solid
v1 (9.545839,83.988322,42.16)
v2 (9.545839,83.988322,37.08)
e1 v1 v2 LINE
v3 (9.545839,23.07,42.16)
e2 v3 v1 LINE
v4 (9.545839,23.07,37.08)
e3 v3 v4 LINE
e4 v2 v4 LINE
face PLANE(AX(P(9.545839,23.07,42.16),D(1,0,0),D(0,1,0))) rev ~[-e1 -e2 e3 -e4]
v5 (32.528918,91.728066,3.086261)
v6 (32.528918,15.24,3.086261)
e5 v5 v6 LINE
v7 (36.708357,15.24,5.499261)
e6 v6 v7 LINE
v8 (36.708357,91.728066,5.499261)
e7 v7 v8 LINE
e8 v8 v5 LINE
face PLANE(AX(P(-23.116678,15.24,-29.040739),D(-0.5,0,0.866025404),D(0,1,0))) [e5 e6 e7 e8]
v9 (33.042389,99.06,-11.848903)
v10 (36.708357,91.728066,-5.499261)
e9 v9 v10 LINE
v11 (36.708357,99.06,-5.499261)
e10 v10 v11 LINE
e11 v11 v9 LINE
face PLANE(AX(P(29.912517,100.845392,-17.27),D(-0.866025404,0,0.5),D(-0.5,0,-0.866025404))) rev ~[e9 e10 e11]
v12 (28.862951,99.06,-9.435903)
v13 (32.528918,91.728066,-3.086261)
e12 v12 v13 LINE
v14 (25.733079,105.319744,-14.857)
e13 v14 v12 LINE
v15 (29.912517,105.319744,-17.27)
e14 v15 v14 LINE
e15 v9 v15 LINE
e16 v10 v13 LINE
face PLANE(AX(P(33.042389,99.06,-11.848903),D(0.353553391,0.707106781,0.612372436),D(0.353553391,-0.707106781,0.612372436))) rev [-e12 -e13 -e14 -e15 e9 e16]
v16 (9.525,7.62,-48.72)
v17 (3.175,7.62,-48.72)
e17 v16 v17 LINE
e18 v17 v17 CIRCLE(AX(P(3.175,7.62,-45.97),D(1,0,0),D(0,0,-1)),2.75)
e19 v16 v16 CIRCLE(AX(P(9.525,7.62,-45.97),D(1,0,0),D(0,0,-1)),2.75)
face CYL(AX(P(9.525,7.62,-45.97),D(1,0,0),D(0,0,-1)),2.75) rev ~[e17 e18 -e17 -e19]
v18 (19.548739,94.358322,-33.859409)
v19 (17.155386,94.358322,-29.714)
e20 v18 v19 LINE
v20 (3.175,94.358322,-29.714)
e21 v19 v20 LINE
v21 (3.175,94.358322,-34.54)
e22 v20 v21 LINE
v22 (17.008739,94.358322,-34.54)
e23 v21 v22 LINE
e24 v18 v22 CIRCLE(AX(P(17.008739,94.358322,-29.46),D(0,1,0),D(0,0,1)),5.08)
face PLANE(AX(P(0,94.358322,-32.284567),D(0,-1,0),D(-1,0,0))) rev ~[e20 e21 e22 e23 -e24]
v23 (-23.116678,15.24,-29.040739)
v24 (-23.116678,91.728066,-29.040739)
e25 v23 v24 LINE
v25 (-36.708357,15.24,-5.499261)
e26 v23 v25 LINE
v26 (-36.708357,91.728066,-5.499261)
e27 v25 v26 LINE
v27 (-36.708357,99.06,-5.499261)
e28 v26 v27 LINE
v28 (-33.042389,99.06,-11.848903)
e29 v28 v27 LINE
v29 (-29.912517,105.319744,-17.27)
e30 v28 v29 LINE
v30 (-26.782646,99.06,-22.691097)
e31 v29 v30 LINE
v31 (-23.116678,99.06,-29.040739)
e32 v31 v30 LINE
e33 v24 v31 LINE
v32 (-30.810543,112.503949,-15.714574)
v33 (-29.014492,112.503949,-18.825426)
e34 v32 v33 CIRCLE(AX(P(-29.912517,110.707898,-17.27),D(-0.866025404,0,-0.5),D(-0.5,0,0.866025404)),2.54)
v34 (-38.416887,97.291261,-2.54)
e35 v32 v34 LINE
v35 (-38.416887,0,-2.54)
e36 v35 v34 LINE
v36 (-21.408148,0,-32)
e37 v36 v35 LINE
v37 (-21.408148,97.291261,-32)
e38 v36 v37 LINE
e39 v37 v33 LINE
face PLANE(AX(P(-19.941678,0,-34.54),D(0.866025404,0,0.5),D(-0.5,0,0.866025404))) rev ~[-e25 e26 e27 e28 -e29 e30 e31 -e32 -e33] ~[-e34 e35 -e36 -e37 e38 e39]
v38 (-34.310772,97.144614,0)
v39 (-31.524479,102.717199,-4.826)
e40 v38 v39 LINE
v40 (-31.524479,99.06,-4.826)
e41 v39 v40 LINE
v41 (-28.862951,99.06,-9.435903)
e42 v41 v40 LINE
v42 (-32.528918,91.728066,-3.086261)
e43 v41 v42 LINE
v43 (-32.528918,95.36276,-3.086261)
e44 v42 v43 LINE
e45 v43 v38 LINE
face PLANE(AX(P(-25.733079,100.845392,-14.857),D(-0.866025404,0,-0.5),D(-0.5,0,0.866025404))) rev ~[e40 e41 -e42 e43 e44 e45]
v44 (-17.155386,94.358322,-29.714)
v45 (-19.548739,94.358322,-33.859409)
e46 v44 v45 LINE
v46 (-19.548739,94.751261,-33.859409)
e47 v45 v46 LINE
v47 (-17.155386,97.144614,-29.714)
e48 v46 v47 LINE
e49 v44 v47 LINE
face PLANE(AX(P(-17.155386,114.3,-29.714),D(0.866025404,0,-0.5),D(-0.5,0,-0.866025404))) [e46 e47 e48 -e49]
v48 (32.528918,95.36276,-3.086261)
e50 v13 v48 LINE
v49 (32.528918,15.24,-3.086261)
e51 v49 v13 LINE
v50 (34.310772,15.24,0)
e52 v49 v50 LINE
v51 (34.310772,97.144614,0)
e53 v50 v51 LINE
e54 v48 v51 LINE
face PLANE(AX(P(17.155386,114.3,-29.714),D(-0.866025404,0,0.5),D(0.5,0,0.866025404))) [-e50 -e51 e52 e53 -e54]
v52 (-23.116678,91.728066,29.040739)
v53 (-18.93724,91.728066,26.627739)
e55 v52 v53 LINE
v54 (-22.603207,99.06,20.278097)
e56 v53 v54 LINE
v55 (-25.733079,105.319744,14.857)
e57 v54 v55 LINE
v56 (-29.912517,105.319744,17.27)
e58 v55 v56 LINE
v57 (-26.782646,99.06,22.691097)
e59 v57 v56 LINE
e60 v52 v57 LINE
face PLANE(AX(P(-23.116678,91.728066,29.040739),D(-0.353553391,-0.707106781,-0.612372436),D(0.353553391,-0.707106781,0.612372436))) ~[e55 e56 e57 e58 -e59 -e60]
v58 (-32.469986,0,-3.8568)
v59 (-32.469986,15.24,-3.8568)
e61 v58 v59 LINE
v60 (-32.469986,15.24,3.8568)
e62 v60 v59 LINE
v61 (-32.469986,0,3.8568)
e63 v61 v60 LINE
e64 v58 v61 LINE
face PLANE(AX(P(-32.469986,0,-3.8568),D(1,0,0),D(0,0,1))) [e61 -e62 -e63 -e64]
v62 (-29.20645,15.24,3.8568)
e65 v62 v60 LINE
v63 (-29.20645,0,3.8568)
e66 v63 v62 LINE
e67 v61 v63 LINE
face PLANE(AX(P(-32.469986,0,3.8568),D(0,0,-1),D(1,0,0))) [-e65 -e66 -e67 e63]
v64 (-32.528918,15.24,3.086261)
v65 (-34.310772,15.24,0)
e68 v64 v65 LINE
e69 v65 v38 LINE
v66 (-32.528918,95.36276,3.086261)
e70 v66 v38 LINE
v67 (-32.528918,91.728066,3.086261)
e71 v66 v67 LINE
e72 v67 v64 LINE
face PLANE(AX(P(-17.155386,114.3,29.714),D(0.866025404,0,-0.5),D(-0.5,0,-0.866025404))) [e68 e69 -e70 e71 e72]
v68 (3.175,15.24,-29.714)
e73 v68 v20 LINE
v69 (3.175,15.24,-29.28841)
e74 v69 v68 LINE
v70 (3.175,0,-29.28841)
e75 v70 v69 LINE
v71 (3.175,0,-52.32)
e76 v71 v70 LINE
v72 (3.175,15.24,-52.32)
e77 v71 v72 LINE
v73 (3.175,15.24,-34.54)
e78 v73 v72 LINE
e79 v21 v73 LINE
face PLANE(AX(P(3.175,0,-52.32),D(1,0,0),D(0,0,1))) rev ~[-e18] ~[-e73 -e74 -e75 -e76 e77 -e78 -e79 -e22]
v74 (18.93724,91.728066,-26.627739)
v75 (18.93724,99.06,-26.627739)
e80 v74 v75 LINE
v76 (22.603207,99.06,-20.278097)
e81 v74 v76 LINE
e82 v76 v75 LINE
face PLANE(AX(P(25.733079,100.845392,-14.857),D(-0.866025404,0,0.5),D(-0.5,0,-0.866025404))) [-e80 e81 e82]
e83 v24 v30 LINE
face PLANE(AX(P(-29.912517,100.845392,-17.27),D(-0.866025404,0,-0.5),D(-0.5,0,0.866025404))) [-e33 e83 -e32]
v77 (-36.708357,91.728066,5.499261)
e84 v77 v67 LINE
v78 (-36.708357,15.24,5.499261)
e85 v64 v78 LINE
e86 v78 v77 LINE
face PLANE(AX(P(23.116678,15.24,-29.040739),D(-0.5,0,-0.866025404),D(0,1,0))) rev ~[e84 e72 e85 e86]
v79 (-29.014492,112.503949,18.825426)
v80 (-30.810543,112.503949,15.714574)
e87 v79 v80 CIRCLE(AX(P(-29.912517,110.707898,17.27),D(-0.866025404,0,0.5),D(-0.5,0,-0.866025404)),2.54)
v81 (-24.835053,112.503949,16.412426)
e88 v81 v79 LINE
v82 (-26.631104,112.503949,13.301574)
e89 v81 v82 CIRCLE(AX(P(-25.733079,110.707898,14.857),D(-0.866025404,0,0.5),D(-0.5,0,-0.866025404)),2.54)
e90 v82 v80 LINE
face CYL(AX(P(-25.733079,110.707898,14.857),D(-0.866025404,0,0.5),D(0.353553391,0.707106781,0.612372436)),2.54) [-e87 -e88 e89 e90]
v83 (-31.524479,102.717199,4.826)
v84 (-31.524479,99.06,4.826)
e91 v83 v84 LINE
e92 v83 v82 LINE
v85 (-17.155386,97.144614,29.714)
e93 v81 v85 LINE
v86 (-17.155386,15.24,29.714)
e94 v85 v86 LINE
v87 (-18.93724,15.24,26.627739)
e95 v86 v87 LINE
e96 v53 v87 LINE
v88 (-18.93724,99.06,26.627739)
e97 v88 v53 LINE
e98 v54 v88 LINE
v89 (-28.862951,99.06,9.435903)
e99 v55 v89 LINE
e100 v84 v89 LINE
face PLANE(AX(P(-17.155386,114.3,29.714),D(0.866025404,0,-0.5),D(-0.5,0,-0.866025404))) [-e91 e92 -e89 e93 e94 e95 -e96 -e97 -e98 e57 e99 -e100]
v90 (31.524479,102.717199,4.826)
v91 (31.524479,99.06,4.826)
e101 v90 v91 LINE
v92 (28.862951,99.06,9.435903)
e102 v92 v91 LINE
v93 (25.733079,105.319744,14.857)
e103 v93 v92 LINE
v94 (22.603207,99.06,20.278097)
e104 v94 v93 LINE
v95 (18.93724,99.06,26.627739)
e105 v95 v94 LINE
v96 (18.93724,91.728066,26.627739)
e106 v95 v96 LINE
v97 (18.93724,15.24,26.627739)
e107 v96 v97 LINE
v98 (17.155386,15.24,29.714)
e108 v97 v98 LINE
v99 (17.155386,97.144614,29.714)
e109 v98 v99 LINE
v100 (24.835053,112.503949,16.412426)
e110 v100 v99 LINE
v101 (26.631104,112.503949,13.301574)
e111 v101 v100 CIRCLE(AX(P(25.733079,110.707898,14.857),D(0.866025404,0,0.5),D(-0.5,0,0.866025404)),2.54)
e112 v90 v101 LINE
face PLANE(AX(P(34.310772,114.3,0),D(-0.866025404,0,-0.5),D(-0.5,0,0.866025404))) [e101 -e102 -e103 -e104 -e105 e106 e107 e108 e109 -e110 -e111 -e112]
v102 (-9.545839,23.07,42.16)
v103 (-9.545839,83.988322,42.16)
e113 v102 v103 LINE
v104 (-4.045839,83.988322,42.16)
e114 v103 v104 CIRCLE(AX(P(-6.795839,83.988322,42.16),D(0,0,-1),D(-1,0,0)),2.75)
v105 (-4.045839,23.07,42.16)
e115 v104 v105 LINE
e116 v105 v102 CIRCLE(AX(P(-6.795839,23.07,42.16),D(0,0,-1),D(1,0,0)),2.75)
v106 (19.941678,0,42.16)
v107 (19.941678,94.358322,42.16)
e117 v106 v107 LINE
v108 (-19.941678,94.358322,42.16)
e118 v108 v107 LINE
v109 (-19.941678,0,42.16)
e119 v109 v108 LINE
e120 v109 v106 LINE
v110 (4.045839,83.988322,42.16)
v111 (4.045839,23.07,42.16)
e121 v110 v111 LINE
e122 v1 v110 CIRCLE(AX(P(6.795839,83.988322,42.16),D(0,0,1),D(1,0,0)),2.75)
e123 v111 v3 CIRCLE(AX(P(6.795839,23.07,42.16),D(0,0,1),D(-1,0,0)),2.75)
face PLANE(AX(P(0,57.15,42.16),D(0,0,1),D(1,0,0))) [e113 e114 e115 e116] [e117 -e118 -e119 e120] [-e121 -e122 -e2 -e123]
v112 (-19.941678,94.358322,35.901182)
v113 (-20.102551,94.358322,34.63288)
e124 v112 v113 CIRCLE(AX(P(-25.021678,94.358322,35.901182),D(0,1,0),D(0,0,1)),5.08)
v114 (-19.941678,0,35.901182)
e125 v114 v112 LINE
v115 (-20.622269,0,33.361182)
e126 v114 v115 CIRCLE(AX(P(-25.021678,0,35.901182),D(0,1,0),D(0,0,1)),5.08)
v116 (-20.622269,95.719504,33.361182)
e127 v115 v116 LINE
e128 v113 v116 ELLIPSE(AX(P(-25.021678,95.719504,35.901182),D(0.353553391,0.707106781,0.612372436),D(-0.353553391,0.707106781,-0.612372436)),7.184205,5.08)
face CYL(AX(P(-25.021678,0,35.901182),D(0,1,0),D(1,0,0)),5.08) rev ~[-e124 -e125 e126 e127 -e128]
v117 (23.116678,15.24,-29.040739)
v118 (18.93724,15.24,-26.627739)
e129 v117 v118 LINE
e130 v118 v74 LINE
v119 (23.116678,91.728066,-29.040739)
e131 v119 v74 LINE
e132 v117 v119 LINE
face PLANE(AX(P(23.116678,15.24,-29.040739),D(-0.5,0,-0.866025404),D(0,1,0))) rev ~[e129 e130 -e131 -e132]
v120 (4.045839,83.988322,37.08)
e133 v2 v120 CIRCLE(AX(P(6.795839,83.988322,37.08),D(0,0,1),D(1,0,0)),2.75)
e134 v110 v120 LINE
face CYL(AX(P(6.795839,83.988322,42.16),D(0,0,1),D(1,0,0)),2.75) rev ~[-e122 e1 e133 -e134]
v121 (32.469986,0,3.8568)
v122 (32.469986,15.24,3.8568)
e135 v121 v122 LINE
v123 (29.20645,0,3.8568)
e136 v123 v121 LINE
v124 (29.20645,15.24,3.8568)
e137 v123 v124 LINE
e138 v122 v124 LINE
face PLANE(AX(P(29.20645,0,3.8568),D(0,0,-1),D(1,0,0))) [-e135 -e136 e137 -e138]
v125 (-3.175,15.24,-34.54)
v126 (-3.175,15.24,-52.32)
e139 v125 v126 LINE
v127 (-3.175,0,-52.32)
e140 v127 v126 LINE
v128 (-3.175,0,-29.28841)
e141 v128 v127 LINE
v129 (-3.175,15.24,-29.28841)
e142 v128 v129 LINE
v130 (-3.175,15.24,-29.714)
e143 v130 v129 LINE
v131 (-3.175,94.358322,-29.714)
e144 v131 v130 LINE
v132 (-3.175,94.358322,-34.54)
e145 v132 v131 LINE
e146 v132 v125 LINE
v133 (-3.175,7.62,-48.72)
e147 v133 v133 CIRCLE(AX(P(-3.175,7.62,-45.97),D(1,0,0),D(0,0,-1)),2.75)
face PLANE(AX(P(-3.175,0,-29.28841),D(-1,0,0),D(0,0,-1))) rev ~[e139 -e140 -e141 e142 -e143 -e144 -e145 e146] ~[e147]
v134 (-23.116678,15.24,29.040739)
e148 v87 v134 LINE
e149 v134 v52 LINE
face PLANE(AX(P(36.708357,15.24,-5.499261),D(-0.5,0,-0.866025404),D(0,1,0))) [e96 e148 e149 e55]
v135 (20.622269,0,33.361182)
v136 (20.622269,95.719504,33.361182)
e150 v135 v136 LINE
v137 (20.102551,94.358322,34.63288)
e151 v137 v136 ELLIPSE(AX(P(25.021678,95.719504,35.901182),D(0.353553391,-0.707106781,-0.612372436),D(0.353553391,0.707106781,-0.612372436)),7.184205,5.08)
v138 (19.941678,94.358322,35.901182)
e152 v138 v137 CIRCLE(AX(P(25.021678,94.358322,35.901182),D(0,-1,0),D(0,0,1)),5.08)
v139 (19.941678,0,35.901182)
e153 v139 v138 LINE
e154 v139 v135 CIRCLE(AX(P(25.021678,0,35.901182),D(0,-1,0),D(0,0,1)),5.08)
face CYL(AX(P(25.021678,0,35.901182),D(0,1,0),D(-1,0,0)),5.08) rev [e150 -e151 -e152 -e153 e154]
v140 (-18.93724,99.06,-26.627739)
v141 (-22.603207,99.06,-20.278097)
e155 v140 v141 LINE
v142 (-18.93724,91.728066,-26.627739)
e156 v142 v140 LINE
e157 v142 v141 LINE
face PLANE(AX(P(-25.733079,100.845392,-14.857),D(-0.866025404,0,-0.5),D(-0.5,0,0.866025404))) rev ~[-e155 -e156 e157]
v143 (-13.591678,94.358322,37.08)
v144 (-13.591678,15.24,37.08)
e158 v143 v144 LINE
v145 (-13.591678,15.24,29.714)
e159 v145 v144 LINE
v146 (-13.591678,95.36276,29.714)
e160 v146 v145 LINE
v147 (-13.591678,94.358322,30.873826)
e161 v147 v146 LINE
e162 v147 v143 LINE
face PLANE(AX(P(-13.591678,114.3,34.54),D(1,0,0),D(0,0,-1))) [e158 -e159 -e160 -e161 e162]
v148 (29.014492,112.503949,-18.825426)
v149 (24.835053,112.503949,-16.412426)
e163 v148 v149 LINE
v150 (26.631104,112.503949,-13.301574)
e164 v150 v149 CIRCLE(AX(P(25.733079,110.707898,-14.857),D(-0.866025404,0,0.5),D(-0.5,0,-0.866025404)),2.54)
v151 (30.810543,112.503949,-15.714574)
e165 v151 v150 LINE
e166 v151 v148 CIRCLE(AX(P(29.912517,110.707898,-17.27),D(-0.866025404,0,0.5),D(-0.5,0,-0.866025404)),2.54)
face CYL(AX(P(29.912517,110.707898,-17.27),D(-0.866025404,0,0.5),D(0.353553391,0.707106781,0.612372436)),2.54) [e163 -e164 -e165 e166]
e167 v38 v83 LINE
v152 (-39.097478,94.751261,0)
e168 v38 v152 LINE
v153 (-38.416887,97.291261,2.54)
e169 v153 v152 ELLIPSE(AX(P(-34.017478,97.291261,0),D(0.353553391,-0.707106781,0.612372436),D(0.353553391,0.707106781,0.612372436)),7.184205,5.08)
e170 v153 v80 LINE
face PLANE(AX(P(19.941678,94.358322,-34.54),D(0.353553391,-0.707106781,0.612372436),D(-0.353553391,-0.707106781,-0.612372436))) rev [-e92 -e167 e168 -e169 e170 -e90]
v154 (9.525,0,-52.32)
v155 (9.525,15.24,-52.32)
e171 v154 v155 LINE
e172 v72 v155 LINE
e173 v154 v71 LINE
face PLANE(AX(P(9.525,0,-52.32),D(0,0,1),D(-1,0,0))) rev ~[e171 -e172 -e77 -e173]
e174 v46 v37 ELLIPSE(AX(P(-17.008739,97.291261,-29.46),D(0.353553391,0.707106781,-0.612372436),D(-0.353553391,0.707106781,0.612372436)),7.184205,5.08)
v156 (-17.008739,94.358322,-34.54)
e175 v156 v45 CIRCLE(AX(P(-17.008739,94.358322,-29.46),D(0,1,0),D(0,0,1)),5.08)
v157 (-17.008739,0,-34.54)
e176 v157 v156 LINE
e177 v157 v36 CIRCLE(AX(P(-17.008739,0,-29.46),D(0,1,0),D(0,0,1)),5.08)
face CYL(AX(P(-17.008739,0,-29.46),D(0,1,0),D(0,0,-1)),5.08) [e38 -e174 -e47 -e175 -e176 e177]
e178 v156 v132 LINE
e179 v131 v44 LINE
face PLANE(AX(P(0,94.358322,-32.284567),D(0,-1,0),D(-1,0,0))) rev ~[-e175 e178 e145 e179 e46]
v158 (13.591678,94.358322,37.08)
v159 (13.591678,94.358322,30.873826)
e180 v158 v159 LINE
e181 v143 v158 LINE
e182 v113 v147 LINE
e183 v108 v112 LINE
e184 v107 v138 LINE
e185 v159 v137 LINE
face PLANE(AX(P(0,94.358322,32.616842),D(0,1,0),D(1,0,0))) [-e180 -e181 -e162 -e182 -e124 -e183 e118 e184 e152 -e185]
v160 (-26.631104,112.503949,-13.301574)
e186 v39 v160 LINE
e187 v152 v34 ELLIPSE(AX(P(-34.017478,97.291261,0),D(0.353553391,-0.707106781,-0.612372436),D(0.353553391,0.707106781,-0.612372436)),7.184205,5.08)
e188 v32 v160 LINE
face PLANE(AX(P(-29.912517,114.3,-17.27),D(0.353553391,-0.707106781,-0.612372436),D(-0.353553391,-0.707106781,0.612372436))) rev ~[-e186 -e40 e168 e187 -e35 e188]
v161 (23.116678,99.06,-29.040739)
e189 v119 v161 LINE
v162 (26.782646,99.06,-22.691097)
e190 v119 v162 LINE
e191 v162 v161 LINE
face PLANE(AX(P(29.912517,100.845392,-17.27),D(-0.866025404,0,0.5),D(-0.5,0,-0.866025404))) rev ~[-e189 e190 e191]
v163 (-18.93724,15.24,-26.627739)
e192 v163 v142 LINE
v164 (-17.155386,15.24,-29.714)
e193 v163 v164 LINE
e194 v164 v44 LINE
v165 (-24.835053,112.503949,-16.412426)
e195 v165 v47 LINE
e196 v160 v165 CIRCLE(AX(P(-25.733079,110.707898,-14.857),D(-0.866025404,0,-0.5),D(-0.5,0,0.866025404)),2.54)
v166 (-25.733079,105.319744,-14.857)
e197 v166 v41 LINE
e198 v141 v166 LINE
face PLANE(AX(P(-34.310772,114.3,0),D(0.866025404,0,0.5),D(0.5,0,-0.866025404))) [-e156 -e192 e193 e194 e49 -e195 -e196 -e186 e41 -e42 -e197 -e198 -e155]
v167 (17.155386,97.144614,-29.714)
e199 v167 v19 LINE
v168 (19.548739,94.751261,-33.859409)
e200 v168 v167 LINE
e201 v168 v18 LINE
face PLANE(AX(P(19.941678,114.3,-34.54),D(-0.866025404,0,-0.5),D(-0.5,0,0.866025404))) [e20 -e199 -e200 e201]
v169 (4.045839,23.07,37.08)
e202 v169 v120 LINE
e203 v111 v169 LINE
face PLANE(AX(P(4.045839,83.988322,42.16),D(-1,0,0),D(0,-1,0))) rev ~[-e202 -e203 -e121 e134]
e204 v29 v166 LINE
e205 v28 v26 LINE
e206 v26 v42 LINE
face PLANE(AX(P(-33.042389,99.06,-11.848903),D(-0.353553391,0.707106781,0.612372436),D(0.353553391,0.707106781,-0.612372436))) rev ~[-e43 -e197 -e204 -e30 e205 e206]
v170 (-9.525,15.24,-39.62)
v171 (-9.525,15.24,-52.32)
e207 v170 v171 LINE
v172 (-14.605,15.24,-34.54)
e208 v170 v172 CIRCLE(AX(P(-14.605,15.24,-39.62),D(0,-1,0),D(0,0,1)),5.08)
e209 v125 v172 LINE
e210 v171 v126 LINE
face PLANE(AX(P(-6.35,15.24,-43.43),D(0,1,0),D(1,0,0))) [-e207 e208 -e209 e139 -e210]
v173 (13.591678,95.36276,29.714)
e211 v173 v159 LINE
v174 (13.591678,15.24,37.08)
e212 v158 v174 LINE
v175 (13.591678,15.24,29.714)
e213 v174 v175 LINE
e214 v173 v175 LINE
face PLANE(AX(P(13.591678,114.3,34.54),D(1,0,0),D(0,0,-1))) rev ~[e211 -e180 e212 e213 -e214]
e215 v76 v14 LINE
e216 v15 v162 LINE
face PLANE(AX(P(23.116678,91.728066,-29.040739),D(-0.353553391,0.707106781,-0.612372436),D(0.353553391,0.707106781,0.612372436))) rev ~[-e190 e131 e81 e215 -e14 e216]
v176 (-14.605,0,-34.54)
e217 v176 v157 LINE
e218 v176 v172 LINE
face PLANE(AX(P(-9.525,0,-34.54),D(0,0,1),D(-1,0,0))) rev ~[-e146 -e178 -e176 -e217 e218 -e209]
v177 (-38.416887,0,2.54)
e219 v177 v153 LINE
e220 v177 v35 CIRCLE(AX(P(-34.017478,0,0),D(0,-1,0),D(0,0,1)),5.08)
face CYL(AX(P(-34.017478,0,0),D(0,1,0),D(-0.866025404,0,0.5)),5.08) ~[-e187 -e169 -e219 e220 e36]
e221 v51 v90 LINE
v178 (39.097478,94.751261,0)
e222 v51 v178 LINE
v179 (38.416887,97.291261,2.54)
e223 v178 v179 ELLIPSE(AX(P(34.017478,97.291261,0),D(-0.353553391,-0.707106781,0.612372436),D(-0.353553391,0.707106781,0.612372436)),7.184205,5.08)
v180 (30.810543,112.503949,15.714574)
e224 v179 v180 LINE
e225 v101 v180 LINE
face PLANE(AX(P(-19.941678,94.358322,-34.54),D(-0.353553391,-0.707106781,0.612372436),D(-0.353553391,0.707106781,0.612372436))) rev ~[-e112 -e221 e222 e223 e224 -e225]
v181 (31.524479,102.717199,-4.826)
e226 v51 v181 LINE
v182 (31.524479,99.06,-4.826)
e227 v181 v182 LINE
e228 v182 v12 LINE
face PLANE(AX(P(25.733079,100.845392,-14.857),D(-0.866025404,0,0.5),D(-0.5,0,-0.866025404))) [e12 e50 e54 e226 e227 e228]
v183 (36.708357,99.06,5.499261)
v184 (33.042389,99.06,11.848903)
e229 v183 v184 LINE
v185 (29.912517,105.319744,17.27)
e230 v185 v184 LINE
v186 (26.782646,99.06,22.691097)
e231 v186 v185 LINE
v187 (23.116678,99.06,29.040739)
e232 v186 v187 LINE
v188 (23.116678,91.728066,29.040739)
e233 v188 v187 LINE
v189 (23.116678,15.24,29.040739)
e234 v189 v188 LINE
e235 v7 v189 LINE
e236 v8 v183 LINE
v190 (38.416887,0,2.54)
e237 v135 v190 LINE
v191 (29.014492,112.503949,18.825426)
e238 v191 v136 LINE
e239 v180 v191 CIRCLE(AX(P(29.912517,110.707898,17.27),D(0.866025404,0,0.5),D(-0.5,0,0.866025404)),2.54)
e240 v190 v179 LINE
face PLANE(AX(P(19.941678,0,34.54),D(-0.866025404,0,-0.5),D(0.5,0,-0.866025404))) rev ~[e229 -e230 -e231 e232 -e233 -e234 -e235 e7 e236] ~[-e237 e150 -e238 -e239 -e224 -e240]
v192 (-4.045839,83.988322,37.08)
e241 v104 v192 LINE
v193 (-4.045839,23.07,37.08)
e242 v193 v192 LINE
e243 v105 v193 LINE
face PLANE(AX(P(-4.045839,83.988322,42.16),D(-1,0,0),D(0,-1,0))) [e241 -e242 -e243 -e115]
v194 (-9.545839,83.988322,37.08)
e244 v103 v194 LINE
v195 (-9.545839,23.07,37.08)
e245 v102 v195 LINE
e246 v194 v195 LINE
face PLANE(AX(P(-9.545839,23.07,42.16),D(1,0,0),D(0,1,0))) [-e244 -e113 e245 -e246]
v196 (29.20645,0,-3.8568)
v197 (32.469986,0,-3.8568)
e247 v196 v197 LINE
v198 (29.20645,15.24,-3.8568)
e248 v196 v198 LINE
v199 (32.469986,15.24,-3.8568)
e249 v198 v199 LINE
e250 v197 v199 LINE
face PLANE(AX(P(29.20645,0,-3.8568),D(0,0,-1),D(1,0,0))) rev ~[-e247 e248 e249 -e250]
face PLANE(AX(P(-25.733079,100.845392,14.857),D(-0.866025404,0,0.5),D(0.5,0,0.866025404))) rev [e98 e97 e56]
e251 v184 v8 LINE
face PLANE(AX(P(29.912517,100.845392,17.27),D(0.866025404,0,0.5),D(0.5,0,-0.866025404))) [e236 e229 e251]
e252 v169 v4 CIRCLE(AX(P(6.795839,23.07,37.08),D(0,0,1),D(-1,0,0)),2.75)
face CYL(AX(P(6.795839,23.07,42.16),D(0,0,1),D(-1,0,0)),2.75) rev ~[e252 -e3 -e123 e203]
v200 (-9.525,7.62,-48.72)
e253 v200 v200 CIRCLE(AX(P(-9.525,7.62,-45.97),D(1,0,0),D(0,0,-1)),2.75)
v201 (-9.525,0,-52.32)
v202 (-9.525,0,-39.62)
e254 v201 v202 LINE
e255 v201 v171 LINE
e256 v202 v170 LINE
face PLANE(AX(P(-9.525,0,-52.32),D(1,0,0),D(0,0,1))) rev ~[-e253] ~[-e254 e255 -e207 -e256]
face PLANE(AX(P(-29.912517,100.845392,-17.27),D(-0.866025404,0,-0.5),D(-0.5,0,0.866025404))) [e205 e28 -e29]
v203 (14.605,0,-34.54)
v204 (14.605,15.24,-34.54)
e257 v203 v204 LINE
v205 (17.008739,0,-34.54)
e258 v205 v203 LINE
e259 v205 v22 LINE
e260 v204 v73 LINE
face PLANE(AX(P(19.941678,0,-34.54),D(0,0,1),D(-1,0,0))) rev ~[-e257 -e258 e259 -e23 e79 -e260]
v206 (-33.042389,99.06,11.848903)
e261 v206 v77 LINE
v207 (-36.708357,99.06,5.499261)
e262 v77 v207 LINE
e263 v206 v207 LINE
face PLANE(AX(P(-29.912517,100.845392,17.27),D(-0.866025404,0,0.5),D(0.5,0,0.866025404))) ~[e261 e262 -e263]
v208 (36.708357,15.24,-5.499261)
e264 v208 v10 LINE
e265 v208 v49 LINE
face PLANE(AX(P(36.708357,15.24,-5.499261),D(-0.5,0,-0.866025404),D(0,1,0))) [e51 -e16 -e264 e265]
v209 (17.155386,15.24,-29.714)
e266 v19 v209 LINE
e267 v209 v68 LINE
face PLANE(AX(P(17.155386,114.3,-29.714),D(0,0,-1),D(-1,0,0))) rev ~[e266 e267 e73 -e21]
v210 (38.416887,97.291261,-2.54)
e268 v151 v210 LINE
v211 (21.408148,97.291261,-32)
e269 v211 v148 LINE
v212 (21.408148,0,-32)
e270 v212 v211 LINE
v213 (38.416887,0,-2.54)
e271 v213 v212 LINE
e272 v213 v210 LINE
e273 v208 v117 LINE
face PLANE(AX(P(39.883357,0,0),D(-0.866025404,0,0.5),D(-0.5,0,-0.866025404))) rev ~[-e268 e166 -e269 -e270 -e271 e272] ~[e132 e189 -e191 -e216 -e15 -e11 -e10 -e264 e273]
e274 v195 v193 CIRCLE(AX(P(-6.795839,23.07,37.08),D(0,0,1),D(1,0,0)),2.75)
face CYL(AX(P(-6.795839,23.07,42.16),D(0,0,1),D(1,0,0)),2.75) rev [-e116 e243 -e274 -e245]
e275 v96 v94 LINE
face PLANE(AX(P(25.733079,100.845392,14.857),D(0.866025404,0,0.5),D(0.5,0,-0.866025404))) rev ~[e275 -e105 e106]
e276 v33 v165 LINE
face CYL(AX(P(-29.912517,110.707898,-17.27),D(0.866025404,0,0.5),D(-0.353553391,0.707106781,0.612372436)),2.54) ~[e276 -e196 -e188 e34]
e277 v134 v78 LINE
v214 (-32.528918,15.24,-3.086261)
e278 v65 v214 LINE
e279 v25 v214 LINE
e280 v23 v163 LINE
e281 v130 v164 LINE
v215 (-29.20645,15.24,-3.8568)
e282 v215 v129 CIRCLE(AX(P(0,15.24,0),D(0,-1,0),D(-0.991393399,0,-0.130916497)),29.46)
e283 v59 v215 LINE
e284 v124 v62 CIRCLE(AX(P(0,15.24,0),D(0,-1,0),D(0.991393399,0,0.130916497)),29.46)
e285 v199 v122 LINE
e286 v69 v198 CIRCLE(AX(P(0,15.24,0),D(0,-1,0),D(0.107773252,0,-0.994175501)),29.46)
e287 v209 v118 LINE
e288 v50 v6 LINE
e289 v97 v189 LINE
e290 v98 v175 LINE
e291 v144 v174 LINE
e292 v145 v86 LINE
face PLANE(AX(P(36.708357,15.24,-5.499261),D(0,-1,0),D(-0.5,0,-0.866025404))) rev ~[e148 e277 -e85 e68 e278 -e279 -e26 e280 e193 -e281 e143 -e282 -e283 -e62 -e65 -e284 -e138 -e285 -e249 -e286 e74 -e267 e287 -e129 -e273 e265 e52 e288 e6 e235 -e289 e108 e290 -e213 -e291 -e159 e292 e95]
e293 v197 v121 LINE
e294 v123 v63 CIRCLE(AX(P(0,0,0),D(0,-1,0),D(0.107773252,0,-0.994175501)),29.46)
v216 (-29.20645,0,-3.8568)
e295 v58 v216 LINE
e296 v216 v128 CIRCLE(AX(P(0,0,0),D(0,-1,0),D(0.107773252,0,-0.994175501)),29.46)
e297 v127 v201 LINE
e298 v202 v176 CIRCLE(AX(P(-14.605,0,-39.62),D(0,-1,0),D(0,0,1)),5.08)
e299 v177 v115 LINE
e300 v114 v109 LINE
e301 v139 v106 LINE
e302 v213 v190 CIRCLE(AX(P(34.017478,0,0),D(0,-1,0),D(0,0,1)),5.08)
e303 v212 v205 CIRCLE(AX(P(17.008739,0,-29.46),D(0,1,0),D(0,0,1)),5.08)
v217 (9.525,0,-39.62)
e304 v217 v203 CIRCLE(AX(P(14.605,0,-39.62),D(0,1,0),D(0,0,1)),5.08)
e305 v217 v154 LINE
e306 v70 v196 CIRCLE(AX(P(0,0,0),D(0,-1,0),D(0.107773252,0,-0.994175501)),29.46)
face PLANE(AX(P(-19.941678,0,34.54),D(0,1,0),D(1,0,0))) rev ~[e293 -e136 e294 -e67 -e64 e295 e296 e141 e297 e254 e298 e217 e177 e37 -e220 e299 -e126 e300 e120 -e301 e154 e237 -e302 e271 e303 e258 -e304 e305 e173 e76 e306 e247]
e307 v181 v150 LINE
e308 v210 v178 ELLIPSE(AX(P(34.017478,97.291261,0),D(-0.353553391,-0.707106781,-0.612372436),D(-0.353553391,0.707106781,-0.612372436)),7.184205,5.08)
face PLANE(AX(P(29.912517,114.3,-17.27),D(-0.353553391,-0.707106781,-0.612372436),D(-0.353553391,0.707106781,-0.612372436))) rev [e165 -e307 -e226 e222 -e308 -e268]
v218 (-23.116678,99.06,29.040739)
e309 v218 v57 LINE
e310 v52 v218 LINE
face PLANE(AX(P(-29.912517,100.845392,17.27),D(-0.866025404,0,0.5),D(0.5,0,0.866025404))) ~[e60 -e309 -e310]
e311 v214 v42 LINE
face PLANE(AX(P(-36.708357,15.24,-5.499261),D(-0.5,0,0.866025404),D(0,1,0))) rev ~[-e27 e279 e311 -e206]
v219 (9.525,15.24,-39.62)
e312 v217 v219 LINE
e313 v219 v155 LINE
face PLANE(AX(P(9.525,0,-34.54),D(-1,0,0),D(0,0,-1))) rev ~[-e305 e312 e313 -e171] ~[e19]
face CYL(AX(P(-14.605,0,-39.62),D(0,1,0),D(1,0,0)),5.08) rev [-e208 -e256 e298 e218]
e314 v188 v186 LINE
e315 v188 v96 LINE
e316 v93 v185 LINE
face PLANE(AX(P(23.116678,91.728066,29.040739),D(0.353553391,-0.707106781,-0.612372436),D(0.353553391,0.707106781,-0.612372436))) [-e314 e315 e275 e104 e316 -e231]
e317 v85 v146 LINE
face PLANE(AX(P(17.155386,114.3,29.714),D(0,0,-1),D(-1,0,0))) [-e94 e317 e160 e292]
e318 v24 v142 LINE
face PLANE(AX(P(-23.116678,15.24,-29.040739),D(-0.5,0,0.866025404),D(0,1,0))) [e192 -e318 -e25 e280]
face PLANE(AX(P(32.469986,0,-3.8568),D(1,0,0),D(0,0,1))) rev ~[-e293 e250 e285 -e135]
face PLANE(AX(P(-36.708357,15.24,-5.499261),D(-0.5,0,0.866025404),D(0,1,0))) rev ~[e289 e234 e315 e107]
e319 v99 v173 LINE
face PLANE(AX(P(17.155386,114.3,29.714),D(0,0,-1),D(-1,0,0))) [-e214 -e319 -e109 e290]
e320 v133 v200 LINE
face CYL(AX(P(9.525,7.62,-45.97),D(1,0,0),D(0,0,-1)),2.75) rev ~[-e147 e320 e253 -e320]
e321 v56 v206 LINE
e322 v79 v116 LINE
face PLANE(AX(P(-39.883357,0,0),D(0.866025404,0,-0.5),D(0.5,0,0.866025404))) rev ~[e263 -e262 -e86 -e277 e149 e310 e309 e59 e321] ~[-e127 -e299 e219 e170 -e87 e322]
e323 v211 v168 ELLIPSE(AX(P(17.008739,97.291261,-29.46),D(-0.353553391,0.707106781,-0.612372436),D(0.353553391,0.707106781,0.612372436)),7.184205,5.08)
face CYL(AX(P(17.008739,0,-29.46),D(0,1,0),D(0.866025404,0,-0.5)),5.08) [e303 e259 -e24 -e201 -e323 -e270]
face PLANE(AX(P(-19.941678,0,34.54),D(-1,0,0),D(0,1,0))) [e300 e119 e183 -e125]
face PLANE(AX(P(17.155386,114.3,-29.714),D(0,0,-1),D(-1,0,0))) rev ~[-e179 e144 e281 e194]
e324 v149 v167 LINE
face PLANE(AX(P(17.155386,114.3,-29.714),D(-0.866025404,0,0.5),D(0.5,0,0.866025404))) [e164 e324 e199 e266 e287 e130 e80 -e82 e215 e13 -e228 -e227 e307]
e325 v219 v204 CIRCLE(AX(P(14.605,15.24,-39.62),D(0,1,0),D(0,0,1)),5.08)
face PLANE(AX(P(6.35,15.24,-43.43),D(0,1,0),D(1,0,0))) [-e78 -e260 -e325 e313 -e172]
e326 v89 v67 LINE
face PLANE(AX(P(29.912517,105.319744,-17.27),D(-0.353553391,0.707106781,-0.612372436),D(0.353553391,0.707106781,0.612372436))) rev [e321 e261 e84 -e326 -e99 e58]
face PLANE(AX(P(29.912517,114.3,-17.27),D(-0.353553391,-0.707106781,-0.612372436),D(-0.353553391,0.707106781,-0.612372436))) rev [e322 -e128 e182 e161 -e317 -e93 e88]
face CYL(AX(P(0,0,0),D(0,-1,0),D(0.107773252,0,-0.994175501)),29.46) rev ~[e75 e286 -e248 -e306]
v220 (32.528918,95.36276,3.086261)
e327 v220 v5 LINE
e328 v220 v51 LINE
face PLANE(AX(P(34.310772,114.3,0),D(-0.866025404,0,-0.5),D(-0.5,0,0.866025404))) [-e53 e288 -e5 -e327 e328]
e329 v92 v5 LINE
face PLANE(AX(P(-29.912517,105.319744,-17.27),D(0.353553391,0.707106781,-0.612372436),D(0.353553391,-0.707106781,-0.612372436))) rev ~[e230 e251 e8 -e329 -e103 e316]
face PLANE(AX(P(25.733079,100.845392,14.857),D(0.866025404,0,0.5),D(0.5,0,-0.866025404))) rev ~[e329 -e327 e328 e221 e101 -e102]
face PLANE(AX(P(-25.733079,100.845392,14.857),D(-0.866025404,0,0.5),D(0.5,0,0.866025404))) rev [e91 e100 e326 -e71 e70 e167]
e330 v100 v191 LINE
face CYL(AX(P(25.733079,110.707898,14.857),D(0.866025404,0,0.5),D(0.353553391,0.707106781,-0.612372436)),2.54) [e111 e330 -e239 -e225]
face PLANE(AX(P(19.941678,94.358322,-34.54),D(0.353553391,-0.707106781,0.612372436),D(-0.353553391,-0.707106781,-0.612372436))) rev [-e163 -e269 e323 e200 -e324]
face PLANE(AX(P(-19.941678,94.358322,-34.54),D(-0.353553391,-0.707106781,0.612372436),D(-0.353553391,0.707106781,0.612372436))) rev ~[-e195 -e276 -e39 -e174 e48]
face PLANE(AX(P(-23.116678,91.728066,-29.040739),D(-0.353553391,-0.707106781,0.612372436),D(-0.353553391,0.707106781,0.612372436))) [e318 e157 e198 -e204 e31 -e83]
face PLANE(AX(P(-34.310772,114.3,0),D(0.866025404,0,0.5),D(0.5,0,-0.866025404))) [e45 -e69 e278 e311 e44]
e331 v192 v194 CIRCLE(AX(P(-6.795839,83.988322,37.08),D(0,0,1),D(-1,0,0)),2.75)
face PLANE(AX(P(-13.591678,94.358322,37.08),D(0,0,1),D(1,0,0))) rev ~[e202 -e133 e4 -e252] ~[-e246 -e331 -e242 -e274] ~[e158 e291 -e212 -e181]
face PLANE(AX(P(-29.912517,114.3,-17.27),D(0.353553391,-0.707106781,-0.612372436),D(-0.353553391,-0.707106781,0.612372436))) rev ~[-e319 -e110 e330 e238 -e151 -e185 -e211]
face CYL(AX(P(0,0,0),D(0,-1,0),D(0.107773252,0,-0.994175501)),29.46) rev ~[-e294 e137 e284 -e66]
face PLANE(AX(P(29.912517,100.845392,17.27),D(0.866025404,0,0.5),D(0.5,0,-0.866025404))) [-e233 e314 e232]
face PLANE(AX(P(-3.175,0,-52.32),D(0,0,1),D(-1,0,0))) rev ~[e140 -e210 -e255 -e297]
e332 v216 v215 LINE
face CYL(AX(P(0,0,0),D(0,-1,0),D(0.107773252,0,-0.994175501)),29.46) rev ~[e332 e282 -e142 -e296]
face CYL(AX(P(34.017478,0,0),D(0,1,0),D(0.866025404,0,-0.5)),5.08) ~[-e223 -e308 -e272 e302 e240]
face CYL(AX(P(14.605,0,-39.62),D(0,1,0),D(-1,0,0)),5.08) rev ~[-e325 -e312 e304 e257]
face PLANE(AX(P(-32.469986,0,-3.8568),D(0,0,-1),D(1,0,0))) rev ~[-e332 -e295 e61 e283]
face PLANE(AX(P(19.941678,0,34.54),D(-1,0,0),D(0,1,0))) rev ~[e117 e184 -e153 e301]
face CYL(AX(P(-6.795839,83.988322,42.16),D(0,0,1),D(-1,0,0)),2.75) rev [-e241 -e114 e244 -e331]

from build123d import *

# Parameters (mm, degrees)
BOSS_EXTRUDE1_DEPTH  = 114.3
SKETCH2_W            = 6.35
SKETCH2_H            = 17.78
CUT_EXTRUDE2_DEPTH   = 99.06
SKETCH3_W            = 27.183356596
SKETCH3_H            = 83.82
CUT_EXTRUDE3_DEPTH   = 99.06
SKETCH4_W            = 27.183356596
SKETCH4_H            = 83.82
CUT_EXTRUDE4_DEPTH   = 99.06
SKETCH7_W            = 3.263536018
SKETCH7_H            = 7.713600016
CUT_EXTRUDE7_DEPTH   = 15.24
CUT_EXTRUDE8_DEPTH   = 99.06
SKETCH10_W           = 39.883356596
SKETCH10_H           = 114.3
BOSS_EXTRUDE2_DEPTH  = 7.62
CUT_EXTRUDE11_DEPTH  = 81.28
BOSS_EXTRUDE9_DEPTH  = 4.826
MIRROR9_COPY_1_DEPTH = 4.826
MIRROR9_COPY_2_DEPTH = 4.826
CUT_EXTRUDE13_DEPTH  = 19.941678176
CUT_EXTRUDE14_DEPTH  = 19.941678176
SKETCH17_W           = 27.183356538
SKETCH17_H           = 4.826
CUT_EXTRUDE15_DEPTH  = 99.06
SKETCH18_W           = 39.883356596
SKETCH18_H           = 7.62
CUT_EXTRUDE16_DEPTH  = 19.941678176
CUT_EXTRUDE18_DEPTH  = 19.941678176
SKETCH20_W           = 27.183356538
SKETCH20_H           = 2.54
CUT_EXTRUDE19_DEPTH  = 79.118321824
FILLET1_R            = 5.08
FILLET2_R            = 2.54
SKETCH21_R           = 2.749999961
CUT_EXTRUDE20_DEPTH  = 79.118321824


with BuildPart() as part:
    # Sketch1 → Boss-Extrude1 (new body)
    with BuildSketch(Plane(origin=(0, 0, 0), x_dir=(1, 0, 0), z_dir=(0, 1, 0))):
        with BuildLine():
            Line((39.883356596, 0), (19.941678298, 34.54))
            Line((19.941678298, 34.54), (9.525, 34.54))
            Line((9.525, 34.54), (9.525, 52.32))
            Line((9.525, 52.32), (3.175, 52.32))
            Line((3.175, 52.32), (3.175, 34.54))
            Line((3.175, 34.54), (3.175, 29.28841025))
            ThreePointArc((3.175, 29.28841025), (0, -29.46), (-3.175, 29.28841025))
            Line((-3.175, 29.28841025), (-3.175, 34.54))
            Line((-3.175, 34.54), (-3.175, 52.32))
            Line((-3.175, 52.32), (-9.525, 52.32))
            Line((-9.525, 52.32), (-9.525, 34.54))
            Line((-9.525, 34.54), (-19.941678298, 34.54))
            Line((-19.941678298, 34.54), (-39.883356596, 0))
            Line((-39.883356596, 0), (-19.941678298, -34.54))
            Line((-19.941678298, -34.54), (19.941678298, -34.54))
            Line((19.941678298, -34.54), (39.883356596, 0))
        make_face()
    extrude(amount=BOSS_EXTRUDE1_DEPTH)

    # Sketch2 → Cut-Extrude2 (cut)
    with BuildSketch(Plane(origin=(0, 114.3, 0), x_dir=(1, 0, 0), z_dir=(0, 1, 0))):
        with Locations((-6.35, 43.43)):
            Rectangle(SKETCH2_W, SKETCH2_H)
        with Locations((6.35, 43.43)):
            Rectangle(SKETCH2_W, SKETCH2_H)
    extrude(amount=-CUT_EXTRUDE2_DEPTH, mode=Mode.SUBTRACT)

    # Sketch3 → Cut-Extrude3 (cut)
    with BuildSketch(Plane(origin=(-29.912517447, 0, -17.27), x_dir=(-0.49999999999999617, 0, 0.8660254037844409), z_dir=(-0.8660254037844408, 0, -0.4999999999999961))):
        with Locations((0, 57.15)):
            Rectangle(SKETCH3_W, SKETCH3_H)
    extrude(amount=-CUT_EXTRUDE3_DEPTH, mode=Mode.SUBTRACT)

    # Sketch4 → Cut-Extrude4 (cut)
    with BuildSketch(Plane(origin=(29.912517447, 0, -17.27), x_dir=(-0.500000000000004, 0, -0.8660254037844364), z_dir=(0.8660254037844365, 0, -0.500000000000004))):
        with Locations((0, 57.15)):
            Rectangle(SKETCH4_W, SKETCH4_H)
    extrude(amount=-CUT_EXTRUDE4_DEPTH, mode=Mode.SUBTRACT)

    # Sketch7 → Cut-Extrude7 (cut)
    with BuildSketch(Plane.XZ):
        with Locations((-30.838217531, 0)):
            Rectangle(SKETCH7_W, SKETCH7_H)
        with Locations((30.838217531, 0)):
            Rectangle(SKETCH7_W, SKETCH7_H)
    extrude(amount=-CUT_EXTRUDE7_DEPTH, mode=Mode.SUBTRACT)

    # Sketch8 → Cut-Extrude8 (cut)
    with BuildSketch(Plane(origin=(0, 114.3, 0), x_dir=(1, 0, 0), z_dir=(0, 1, 0))):
        Polygon((-3.175, 29.714), (3.175, 29.714), (17.155385899, 29.714), (34.310771797, 0), (17.155385899, -29.714), (-17.155385899, -29.714), (-34.310771797, 0), (-17.155385899, 29.714), align=None)
    extrude(amount=-CUT_EXTRUDE8_DEPTH, mode=Mode.SUBTRACT)

    # Sketch10 → Boss-Extrude2 (add)
    with BuildSketch(Plane.XY.offset(34.54)):
        with Locations((0, 57.15)):
            Rectangle(SKETCH10_W, SKETCH10_H)
    extrude(amount=BOSS_EXTRUDE2_DEPTH)

    # Sketch12 → Cut-Extrude11 (cut)
    with BuildSketch(Plane(origin=(-29.912517447, 0, -17.27), x_dir=(-0.4999999999999998, 0, 0.8660254037844388), z_dir=(-0.8660254037844388, 0, -0.4999999999999998))):
        Polygon((19.941678298, 114.3), (0, 114.3), (19.941678298, 94.358321702), align=None)
        Polygon((-19.941678298, 94.358321702), (0, 114.3), (-19.941678298, 114.3), align=None)
        Polygon((6.259743879, 99.06), (0, 105.319743879), (-6.259743879, 99.06), align=None)
    cut_extrude11 = extrude(amount=-CUT_EXTRUDE11_DEPTH, mode=Mode.SUBTRACT)

    # Mirror2: Cut-Extrude11 across plane
    add(cut_extrude11.mirror(Plane(origin=(0, 0, 0), x_dir=(0, 0, 1), z_dir=(1, 0, 0))), mode=Mode.SUBTRACT)

    # Sketch11 → Boss-Extrude9 (add)
    with BuildSketch(Plane(origin=(-29.912517447, 0, -17.27), x_dir=(-0.4999999999999998, 0, 0.8660254037844388), z_dir=(-0.8660254037844388, 0, -0.4999999999999998))):
        Polygon((-13.591678298, 91.728065581), (0, 105.319743879), (13.591678298, 91.728065581), (19.941678298, 94.358321702), (0, 114.3), (-19.941678298, 94.358321702), align=None)
    boss_extrude9 = extrude(amount=-BOSS_EXTRUDE9_DEPTH)

    # Mirror8: Boss-Extrude9 across plane
    add(boss_extrude9.mirror(Plane.XY))

    # Mirror9 copy 1 sketch → Mirror9 copy 1 (add)
    with BuildSketch(Plane(origin=(29.912517447, 0, 17.27), x_dir=(0.4999999999999998, 0, -0.8660254037844388), z_dir=(0.8660254037844388, 0, 0.4999999999999998))):
        Polygon((-13.591678298, 91.728065581), (0, 105.319743879), (13.591678298, 91.728065581), (19.941678298, 94.358321702), (0, 114.3), (-19.941678298, 94.358321702), align=None)
    extrude(amount=-MIRROR9_COPY_1_DEPTH)

    # Mirror9 copy 2 sketch → Mirror9 copy 2 (add)
    with BuildSketch(Plane(origin=(29.912517447, 0, -17.27), x_dir=(0.4999999999999998, 0, 0.8660254037844388), z_dir=(0.8660254037844388, 0, -0.4999999999999998))):
        Polygon((-13.591678298, -91.728065581), (0, -105.319743879), (13.591678298, -91.728065581), (19.941678298, -94.358321702), (0, -114.3), (-19.941678298, -94.358321702), align=None)
    extrude(amount=-MIRROR9_COPY_2_DEPTH)

    # Sketch15 → Cut-Extrude13 (cut)
    with BuildSketch(Plane(origin=(0, 114.3, 0), x_dir=(1, 0, 0), z_dir=(0, 1, 0))):
        Polygon((-17.155385899, 29.714), (-19.941678298, 34.54), (19.941678298, 34.54), (17.155385899, 29.714), align=None)
    extrude(amount=-CUT_EXTRUDE13_DEPTH, mode=Mode.SUBTRACT)

    # Sketch16 → Cut-Extrude14 (cut)
    with BuildSketch(Plane(origin=(0, 114.3, 0), x_dir=(1, 0, 0), z_dir=(0, 1, 0))):
        Polygon((-19.941678298, -34.54), (19.941678298, -34.54), (11.5828011, -29.714), (-11.5828011, -29.714), align=None)
    extrude(amount=-CUT_EXTRUDE14_DEPTH, mode=Mode.SUBTRACT)

    # Sketch17 → Cut-Extrude15 (cut)
    with BuildSketch(Plane(origin=(0, 114.3, 0), x_dir=(1, 0, 0), z_dir=(0, 1, 0))):
        with Locations((0, -32.127)):
            Rectangle(SKETCH17_W, SKETCH17_H)
    extrude(amount=-CUT_EXTRUDE15_DEPTH, mode=Mode.SUBTRACT)

    # Sketch18 → Cut-Extrude16 (cut)
    with BuildSketch(Plane(origin=(0, 114.3, 0), x_dir=(1, 0, 0), z_dir=(0, 1, 0))):
        with Locations((0, -38.35)):
            Rectangle(SKETCH18_W, SKETCH18_H)
    extrude(amount=-CUT_EXTRUDE16_DEPTH, mode=Mode.SUBTRACT)

    # Sketch19 → Cut-Extrude18 (cut)
    with BuildSketch(Plane.XY.offset(42.16)):
        with BuildLine():
            Line((-9.545839134, 23.07), (-9.545839134, 83.988321824))
            ThreePointArc((-9.545839134, 83.988321824), (-6.795839134, 86.738321824), (-4.045839134, 83.988321824))
            Line((-4.045839134, 83.988321824), (-4.045839134, 23.07))
            ThreePointArc((-4.045839134, 23.07), (-6.795839134, 20.32), (-9.545839134, 23.07))
        make_face()
        with BuildLine():
            Line((9.545839134, 23.07), (9.545839134, 83.988321824))
            ThreePointArc((9.545839134, 83.988321824), (6.795839134, 86.738321824), (4.045839134, 83.988321824))
            Line((4.045839134, 83.988321824), (4.045839134, 23.07))
            ThreePointArc((4.045839134, 23.07), (6.795839134, 20.32), (9.545839134, 23.07))
        make_face()
    extrude(amount=-CUT_EXTRUDE18_DEPTH, mode=Mode.SUBTRACT)

    # Sketch20 → Cut-Extrude19 (cut)
    with BuildSketch(Plane(origin=(0, 94.358321824, 0), x_dir=(1, 0, 0), z_dir=(0, 1, 0))):
        with Locations((0, -35.81)):
            Rectangle(SKETCH20_W, SKETCH20_H)
    extrude(amount=-CUT_EXTRUDE19_DEPTH, mode=Mode.SUBTRACT)

    # Fillet1
    fillet1_edges = [part.edges().sort_by_distance(p)[0] for p in [
        (19.941678298, 47.179160851, 34.54),
        (-39.883356596, 47.179160851, 0),
        (-19.941678298, 47.179160851, -34.54),
        (39.883356596, 47.179160851, 0),
        (-19.941678298, 47.179160851, 34.54),
        (19.941678298, 47.179160851, -34.54),
        (-9.525, 7.62, -34.54),
        (9.525, 7.62, -34.54),
    ]]
    fillet(fillet1_edges, radius=FILLET1_R)

    # Fillet2
    fillet2_edges = [part.edges().sort_by_distance(p)[0] for p in [
        (27.822798147, 114.3, 16.0635),
        (-27.822798147, 114.3, -16.0635),
        (-27.822798147, 114.3, 16.0635),
        (27.822798147, 114.3, -16.0635),
    ]]
    fillet(fillet2_edges, radius=FILLET2_R)

    # Sketch21 → Cut-Extrude20 (cut)
    with BuildSketch(Plane(origin=(9.525, 0, 0), x_dir=(0, 0, -1), z_dir=(1, 0, 0))):
        with Locations((45.97, 7.62)):
            Circle(SKETCH21_R)
    extrude(amount=-CUT_EXTRUDE20_DEPTH, mode=Mode.SUBTRACT)


solid = part.part
